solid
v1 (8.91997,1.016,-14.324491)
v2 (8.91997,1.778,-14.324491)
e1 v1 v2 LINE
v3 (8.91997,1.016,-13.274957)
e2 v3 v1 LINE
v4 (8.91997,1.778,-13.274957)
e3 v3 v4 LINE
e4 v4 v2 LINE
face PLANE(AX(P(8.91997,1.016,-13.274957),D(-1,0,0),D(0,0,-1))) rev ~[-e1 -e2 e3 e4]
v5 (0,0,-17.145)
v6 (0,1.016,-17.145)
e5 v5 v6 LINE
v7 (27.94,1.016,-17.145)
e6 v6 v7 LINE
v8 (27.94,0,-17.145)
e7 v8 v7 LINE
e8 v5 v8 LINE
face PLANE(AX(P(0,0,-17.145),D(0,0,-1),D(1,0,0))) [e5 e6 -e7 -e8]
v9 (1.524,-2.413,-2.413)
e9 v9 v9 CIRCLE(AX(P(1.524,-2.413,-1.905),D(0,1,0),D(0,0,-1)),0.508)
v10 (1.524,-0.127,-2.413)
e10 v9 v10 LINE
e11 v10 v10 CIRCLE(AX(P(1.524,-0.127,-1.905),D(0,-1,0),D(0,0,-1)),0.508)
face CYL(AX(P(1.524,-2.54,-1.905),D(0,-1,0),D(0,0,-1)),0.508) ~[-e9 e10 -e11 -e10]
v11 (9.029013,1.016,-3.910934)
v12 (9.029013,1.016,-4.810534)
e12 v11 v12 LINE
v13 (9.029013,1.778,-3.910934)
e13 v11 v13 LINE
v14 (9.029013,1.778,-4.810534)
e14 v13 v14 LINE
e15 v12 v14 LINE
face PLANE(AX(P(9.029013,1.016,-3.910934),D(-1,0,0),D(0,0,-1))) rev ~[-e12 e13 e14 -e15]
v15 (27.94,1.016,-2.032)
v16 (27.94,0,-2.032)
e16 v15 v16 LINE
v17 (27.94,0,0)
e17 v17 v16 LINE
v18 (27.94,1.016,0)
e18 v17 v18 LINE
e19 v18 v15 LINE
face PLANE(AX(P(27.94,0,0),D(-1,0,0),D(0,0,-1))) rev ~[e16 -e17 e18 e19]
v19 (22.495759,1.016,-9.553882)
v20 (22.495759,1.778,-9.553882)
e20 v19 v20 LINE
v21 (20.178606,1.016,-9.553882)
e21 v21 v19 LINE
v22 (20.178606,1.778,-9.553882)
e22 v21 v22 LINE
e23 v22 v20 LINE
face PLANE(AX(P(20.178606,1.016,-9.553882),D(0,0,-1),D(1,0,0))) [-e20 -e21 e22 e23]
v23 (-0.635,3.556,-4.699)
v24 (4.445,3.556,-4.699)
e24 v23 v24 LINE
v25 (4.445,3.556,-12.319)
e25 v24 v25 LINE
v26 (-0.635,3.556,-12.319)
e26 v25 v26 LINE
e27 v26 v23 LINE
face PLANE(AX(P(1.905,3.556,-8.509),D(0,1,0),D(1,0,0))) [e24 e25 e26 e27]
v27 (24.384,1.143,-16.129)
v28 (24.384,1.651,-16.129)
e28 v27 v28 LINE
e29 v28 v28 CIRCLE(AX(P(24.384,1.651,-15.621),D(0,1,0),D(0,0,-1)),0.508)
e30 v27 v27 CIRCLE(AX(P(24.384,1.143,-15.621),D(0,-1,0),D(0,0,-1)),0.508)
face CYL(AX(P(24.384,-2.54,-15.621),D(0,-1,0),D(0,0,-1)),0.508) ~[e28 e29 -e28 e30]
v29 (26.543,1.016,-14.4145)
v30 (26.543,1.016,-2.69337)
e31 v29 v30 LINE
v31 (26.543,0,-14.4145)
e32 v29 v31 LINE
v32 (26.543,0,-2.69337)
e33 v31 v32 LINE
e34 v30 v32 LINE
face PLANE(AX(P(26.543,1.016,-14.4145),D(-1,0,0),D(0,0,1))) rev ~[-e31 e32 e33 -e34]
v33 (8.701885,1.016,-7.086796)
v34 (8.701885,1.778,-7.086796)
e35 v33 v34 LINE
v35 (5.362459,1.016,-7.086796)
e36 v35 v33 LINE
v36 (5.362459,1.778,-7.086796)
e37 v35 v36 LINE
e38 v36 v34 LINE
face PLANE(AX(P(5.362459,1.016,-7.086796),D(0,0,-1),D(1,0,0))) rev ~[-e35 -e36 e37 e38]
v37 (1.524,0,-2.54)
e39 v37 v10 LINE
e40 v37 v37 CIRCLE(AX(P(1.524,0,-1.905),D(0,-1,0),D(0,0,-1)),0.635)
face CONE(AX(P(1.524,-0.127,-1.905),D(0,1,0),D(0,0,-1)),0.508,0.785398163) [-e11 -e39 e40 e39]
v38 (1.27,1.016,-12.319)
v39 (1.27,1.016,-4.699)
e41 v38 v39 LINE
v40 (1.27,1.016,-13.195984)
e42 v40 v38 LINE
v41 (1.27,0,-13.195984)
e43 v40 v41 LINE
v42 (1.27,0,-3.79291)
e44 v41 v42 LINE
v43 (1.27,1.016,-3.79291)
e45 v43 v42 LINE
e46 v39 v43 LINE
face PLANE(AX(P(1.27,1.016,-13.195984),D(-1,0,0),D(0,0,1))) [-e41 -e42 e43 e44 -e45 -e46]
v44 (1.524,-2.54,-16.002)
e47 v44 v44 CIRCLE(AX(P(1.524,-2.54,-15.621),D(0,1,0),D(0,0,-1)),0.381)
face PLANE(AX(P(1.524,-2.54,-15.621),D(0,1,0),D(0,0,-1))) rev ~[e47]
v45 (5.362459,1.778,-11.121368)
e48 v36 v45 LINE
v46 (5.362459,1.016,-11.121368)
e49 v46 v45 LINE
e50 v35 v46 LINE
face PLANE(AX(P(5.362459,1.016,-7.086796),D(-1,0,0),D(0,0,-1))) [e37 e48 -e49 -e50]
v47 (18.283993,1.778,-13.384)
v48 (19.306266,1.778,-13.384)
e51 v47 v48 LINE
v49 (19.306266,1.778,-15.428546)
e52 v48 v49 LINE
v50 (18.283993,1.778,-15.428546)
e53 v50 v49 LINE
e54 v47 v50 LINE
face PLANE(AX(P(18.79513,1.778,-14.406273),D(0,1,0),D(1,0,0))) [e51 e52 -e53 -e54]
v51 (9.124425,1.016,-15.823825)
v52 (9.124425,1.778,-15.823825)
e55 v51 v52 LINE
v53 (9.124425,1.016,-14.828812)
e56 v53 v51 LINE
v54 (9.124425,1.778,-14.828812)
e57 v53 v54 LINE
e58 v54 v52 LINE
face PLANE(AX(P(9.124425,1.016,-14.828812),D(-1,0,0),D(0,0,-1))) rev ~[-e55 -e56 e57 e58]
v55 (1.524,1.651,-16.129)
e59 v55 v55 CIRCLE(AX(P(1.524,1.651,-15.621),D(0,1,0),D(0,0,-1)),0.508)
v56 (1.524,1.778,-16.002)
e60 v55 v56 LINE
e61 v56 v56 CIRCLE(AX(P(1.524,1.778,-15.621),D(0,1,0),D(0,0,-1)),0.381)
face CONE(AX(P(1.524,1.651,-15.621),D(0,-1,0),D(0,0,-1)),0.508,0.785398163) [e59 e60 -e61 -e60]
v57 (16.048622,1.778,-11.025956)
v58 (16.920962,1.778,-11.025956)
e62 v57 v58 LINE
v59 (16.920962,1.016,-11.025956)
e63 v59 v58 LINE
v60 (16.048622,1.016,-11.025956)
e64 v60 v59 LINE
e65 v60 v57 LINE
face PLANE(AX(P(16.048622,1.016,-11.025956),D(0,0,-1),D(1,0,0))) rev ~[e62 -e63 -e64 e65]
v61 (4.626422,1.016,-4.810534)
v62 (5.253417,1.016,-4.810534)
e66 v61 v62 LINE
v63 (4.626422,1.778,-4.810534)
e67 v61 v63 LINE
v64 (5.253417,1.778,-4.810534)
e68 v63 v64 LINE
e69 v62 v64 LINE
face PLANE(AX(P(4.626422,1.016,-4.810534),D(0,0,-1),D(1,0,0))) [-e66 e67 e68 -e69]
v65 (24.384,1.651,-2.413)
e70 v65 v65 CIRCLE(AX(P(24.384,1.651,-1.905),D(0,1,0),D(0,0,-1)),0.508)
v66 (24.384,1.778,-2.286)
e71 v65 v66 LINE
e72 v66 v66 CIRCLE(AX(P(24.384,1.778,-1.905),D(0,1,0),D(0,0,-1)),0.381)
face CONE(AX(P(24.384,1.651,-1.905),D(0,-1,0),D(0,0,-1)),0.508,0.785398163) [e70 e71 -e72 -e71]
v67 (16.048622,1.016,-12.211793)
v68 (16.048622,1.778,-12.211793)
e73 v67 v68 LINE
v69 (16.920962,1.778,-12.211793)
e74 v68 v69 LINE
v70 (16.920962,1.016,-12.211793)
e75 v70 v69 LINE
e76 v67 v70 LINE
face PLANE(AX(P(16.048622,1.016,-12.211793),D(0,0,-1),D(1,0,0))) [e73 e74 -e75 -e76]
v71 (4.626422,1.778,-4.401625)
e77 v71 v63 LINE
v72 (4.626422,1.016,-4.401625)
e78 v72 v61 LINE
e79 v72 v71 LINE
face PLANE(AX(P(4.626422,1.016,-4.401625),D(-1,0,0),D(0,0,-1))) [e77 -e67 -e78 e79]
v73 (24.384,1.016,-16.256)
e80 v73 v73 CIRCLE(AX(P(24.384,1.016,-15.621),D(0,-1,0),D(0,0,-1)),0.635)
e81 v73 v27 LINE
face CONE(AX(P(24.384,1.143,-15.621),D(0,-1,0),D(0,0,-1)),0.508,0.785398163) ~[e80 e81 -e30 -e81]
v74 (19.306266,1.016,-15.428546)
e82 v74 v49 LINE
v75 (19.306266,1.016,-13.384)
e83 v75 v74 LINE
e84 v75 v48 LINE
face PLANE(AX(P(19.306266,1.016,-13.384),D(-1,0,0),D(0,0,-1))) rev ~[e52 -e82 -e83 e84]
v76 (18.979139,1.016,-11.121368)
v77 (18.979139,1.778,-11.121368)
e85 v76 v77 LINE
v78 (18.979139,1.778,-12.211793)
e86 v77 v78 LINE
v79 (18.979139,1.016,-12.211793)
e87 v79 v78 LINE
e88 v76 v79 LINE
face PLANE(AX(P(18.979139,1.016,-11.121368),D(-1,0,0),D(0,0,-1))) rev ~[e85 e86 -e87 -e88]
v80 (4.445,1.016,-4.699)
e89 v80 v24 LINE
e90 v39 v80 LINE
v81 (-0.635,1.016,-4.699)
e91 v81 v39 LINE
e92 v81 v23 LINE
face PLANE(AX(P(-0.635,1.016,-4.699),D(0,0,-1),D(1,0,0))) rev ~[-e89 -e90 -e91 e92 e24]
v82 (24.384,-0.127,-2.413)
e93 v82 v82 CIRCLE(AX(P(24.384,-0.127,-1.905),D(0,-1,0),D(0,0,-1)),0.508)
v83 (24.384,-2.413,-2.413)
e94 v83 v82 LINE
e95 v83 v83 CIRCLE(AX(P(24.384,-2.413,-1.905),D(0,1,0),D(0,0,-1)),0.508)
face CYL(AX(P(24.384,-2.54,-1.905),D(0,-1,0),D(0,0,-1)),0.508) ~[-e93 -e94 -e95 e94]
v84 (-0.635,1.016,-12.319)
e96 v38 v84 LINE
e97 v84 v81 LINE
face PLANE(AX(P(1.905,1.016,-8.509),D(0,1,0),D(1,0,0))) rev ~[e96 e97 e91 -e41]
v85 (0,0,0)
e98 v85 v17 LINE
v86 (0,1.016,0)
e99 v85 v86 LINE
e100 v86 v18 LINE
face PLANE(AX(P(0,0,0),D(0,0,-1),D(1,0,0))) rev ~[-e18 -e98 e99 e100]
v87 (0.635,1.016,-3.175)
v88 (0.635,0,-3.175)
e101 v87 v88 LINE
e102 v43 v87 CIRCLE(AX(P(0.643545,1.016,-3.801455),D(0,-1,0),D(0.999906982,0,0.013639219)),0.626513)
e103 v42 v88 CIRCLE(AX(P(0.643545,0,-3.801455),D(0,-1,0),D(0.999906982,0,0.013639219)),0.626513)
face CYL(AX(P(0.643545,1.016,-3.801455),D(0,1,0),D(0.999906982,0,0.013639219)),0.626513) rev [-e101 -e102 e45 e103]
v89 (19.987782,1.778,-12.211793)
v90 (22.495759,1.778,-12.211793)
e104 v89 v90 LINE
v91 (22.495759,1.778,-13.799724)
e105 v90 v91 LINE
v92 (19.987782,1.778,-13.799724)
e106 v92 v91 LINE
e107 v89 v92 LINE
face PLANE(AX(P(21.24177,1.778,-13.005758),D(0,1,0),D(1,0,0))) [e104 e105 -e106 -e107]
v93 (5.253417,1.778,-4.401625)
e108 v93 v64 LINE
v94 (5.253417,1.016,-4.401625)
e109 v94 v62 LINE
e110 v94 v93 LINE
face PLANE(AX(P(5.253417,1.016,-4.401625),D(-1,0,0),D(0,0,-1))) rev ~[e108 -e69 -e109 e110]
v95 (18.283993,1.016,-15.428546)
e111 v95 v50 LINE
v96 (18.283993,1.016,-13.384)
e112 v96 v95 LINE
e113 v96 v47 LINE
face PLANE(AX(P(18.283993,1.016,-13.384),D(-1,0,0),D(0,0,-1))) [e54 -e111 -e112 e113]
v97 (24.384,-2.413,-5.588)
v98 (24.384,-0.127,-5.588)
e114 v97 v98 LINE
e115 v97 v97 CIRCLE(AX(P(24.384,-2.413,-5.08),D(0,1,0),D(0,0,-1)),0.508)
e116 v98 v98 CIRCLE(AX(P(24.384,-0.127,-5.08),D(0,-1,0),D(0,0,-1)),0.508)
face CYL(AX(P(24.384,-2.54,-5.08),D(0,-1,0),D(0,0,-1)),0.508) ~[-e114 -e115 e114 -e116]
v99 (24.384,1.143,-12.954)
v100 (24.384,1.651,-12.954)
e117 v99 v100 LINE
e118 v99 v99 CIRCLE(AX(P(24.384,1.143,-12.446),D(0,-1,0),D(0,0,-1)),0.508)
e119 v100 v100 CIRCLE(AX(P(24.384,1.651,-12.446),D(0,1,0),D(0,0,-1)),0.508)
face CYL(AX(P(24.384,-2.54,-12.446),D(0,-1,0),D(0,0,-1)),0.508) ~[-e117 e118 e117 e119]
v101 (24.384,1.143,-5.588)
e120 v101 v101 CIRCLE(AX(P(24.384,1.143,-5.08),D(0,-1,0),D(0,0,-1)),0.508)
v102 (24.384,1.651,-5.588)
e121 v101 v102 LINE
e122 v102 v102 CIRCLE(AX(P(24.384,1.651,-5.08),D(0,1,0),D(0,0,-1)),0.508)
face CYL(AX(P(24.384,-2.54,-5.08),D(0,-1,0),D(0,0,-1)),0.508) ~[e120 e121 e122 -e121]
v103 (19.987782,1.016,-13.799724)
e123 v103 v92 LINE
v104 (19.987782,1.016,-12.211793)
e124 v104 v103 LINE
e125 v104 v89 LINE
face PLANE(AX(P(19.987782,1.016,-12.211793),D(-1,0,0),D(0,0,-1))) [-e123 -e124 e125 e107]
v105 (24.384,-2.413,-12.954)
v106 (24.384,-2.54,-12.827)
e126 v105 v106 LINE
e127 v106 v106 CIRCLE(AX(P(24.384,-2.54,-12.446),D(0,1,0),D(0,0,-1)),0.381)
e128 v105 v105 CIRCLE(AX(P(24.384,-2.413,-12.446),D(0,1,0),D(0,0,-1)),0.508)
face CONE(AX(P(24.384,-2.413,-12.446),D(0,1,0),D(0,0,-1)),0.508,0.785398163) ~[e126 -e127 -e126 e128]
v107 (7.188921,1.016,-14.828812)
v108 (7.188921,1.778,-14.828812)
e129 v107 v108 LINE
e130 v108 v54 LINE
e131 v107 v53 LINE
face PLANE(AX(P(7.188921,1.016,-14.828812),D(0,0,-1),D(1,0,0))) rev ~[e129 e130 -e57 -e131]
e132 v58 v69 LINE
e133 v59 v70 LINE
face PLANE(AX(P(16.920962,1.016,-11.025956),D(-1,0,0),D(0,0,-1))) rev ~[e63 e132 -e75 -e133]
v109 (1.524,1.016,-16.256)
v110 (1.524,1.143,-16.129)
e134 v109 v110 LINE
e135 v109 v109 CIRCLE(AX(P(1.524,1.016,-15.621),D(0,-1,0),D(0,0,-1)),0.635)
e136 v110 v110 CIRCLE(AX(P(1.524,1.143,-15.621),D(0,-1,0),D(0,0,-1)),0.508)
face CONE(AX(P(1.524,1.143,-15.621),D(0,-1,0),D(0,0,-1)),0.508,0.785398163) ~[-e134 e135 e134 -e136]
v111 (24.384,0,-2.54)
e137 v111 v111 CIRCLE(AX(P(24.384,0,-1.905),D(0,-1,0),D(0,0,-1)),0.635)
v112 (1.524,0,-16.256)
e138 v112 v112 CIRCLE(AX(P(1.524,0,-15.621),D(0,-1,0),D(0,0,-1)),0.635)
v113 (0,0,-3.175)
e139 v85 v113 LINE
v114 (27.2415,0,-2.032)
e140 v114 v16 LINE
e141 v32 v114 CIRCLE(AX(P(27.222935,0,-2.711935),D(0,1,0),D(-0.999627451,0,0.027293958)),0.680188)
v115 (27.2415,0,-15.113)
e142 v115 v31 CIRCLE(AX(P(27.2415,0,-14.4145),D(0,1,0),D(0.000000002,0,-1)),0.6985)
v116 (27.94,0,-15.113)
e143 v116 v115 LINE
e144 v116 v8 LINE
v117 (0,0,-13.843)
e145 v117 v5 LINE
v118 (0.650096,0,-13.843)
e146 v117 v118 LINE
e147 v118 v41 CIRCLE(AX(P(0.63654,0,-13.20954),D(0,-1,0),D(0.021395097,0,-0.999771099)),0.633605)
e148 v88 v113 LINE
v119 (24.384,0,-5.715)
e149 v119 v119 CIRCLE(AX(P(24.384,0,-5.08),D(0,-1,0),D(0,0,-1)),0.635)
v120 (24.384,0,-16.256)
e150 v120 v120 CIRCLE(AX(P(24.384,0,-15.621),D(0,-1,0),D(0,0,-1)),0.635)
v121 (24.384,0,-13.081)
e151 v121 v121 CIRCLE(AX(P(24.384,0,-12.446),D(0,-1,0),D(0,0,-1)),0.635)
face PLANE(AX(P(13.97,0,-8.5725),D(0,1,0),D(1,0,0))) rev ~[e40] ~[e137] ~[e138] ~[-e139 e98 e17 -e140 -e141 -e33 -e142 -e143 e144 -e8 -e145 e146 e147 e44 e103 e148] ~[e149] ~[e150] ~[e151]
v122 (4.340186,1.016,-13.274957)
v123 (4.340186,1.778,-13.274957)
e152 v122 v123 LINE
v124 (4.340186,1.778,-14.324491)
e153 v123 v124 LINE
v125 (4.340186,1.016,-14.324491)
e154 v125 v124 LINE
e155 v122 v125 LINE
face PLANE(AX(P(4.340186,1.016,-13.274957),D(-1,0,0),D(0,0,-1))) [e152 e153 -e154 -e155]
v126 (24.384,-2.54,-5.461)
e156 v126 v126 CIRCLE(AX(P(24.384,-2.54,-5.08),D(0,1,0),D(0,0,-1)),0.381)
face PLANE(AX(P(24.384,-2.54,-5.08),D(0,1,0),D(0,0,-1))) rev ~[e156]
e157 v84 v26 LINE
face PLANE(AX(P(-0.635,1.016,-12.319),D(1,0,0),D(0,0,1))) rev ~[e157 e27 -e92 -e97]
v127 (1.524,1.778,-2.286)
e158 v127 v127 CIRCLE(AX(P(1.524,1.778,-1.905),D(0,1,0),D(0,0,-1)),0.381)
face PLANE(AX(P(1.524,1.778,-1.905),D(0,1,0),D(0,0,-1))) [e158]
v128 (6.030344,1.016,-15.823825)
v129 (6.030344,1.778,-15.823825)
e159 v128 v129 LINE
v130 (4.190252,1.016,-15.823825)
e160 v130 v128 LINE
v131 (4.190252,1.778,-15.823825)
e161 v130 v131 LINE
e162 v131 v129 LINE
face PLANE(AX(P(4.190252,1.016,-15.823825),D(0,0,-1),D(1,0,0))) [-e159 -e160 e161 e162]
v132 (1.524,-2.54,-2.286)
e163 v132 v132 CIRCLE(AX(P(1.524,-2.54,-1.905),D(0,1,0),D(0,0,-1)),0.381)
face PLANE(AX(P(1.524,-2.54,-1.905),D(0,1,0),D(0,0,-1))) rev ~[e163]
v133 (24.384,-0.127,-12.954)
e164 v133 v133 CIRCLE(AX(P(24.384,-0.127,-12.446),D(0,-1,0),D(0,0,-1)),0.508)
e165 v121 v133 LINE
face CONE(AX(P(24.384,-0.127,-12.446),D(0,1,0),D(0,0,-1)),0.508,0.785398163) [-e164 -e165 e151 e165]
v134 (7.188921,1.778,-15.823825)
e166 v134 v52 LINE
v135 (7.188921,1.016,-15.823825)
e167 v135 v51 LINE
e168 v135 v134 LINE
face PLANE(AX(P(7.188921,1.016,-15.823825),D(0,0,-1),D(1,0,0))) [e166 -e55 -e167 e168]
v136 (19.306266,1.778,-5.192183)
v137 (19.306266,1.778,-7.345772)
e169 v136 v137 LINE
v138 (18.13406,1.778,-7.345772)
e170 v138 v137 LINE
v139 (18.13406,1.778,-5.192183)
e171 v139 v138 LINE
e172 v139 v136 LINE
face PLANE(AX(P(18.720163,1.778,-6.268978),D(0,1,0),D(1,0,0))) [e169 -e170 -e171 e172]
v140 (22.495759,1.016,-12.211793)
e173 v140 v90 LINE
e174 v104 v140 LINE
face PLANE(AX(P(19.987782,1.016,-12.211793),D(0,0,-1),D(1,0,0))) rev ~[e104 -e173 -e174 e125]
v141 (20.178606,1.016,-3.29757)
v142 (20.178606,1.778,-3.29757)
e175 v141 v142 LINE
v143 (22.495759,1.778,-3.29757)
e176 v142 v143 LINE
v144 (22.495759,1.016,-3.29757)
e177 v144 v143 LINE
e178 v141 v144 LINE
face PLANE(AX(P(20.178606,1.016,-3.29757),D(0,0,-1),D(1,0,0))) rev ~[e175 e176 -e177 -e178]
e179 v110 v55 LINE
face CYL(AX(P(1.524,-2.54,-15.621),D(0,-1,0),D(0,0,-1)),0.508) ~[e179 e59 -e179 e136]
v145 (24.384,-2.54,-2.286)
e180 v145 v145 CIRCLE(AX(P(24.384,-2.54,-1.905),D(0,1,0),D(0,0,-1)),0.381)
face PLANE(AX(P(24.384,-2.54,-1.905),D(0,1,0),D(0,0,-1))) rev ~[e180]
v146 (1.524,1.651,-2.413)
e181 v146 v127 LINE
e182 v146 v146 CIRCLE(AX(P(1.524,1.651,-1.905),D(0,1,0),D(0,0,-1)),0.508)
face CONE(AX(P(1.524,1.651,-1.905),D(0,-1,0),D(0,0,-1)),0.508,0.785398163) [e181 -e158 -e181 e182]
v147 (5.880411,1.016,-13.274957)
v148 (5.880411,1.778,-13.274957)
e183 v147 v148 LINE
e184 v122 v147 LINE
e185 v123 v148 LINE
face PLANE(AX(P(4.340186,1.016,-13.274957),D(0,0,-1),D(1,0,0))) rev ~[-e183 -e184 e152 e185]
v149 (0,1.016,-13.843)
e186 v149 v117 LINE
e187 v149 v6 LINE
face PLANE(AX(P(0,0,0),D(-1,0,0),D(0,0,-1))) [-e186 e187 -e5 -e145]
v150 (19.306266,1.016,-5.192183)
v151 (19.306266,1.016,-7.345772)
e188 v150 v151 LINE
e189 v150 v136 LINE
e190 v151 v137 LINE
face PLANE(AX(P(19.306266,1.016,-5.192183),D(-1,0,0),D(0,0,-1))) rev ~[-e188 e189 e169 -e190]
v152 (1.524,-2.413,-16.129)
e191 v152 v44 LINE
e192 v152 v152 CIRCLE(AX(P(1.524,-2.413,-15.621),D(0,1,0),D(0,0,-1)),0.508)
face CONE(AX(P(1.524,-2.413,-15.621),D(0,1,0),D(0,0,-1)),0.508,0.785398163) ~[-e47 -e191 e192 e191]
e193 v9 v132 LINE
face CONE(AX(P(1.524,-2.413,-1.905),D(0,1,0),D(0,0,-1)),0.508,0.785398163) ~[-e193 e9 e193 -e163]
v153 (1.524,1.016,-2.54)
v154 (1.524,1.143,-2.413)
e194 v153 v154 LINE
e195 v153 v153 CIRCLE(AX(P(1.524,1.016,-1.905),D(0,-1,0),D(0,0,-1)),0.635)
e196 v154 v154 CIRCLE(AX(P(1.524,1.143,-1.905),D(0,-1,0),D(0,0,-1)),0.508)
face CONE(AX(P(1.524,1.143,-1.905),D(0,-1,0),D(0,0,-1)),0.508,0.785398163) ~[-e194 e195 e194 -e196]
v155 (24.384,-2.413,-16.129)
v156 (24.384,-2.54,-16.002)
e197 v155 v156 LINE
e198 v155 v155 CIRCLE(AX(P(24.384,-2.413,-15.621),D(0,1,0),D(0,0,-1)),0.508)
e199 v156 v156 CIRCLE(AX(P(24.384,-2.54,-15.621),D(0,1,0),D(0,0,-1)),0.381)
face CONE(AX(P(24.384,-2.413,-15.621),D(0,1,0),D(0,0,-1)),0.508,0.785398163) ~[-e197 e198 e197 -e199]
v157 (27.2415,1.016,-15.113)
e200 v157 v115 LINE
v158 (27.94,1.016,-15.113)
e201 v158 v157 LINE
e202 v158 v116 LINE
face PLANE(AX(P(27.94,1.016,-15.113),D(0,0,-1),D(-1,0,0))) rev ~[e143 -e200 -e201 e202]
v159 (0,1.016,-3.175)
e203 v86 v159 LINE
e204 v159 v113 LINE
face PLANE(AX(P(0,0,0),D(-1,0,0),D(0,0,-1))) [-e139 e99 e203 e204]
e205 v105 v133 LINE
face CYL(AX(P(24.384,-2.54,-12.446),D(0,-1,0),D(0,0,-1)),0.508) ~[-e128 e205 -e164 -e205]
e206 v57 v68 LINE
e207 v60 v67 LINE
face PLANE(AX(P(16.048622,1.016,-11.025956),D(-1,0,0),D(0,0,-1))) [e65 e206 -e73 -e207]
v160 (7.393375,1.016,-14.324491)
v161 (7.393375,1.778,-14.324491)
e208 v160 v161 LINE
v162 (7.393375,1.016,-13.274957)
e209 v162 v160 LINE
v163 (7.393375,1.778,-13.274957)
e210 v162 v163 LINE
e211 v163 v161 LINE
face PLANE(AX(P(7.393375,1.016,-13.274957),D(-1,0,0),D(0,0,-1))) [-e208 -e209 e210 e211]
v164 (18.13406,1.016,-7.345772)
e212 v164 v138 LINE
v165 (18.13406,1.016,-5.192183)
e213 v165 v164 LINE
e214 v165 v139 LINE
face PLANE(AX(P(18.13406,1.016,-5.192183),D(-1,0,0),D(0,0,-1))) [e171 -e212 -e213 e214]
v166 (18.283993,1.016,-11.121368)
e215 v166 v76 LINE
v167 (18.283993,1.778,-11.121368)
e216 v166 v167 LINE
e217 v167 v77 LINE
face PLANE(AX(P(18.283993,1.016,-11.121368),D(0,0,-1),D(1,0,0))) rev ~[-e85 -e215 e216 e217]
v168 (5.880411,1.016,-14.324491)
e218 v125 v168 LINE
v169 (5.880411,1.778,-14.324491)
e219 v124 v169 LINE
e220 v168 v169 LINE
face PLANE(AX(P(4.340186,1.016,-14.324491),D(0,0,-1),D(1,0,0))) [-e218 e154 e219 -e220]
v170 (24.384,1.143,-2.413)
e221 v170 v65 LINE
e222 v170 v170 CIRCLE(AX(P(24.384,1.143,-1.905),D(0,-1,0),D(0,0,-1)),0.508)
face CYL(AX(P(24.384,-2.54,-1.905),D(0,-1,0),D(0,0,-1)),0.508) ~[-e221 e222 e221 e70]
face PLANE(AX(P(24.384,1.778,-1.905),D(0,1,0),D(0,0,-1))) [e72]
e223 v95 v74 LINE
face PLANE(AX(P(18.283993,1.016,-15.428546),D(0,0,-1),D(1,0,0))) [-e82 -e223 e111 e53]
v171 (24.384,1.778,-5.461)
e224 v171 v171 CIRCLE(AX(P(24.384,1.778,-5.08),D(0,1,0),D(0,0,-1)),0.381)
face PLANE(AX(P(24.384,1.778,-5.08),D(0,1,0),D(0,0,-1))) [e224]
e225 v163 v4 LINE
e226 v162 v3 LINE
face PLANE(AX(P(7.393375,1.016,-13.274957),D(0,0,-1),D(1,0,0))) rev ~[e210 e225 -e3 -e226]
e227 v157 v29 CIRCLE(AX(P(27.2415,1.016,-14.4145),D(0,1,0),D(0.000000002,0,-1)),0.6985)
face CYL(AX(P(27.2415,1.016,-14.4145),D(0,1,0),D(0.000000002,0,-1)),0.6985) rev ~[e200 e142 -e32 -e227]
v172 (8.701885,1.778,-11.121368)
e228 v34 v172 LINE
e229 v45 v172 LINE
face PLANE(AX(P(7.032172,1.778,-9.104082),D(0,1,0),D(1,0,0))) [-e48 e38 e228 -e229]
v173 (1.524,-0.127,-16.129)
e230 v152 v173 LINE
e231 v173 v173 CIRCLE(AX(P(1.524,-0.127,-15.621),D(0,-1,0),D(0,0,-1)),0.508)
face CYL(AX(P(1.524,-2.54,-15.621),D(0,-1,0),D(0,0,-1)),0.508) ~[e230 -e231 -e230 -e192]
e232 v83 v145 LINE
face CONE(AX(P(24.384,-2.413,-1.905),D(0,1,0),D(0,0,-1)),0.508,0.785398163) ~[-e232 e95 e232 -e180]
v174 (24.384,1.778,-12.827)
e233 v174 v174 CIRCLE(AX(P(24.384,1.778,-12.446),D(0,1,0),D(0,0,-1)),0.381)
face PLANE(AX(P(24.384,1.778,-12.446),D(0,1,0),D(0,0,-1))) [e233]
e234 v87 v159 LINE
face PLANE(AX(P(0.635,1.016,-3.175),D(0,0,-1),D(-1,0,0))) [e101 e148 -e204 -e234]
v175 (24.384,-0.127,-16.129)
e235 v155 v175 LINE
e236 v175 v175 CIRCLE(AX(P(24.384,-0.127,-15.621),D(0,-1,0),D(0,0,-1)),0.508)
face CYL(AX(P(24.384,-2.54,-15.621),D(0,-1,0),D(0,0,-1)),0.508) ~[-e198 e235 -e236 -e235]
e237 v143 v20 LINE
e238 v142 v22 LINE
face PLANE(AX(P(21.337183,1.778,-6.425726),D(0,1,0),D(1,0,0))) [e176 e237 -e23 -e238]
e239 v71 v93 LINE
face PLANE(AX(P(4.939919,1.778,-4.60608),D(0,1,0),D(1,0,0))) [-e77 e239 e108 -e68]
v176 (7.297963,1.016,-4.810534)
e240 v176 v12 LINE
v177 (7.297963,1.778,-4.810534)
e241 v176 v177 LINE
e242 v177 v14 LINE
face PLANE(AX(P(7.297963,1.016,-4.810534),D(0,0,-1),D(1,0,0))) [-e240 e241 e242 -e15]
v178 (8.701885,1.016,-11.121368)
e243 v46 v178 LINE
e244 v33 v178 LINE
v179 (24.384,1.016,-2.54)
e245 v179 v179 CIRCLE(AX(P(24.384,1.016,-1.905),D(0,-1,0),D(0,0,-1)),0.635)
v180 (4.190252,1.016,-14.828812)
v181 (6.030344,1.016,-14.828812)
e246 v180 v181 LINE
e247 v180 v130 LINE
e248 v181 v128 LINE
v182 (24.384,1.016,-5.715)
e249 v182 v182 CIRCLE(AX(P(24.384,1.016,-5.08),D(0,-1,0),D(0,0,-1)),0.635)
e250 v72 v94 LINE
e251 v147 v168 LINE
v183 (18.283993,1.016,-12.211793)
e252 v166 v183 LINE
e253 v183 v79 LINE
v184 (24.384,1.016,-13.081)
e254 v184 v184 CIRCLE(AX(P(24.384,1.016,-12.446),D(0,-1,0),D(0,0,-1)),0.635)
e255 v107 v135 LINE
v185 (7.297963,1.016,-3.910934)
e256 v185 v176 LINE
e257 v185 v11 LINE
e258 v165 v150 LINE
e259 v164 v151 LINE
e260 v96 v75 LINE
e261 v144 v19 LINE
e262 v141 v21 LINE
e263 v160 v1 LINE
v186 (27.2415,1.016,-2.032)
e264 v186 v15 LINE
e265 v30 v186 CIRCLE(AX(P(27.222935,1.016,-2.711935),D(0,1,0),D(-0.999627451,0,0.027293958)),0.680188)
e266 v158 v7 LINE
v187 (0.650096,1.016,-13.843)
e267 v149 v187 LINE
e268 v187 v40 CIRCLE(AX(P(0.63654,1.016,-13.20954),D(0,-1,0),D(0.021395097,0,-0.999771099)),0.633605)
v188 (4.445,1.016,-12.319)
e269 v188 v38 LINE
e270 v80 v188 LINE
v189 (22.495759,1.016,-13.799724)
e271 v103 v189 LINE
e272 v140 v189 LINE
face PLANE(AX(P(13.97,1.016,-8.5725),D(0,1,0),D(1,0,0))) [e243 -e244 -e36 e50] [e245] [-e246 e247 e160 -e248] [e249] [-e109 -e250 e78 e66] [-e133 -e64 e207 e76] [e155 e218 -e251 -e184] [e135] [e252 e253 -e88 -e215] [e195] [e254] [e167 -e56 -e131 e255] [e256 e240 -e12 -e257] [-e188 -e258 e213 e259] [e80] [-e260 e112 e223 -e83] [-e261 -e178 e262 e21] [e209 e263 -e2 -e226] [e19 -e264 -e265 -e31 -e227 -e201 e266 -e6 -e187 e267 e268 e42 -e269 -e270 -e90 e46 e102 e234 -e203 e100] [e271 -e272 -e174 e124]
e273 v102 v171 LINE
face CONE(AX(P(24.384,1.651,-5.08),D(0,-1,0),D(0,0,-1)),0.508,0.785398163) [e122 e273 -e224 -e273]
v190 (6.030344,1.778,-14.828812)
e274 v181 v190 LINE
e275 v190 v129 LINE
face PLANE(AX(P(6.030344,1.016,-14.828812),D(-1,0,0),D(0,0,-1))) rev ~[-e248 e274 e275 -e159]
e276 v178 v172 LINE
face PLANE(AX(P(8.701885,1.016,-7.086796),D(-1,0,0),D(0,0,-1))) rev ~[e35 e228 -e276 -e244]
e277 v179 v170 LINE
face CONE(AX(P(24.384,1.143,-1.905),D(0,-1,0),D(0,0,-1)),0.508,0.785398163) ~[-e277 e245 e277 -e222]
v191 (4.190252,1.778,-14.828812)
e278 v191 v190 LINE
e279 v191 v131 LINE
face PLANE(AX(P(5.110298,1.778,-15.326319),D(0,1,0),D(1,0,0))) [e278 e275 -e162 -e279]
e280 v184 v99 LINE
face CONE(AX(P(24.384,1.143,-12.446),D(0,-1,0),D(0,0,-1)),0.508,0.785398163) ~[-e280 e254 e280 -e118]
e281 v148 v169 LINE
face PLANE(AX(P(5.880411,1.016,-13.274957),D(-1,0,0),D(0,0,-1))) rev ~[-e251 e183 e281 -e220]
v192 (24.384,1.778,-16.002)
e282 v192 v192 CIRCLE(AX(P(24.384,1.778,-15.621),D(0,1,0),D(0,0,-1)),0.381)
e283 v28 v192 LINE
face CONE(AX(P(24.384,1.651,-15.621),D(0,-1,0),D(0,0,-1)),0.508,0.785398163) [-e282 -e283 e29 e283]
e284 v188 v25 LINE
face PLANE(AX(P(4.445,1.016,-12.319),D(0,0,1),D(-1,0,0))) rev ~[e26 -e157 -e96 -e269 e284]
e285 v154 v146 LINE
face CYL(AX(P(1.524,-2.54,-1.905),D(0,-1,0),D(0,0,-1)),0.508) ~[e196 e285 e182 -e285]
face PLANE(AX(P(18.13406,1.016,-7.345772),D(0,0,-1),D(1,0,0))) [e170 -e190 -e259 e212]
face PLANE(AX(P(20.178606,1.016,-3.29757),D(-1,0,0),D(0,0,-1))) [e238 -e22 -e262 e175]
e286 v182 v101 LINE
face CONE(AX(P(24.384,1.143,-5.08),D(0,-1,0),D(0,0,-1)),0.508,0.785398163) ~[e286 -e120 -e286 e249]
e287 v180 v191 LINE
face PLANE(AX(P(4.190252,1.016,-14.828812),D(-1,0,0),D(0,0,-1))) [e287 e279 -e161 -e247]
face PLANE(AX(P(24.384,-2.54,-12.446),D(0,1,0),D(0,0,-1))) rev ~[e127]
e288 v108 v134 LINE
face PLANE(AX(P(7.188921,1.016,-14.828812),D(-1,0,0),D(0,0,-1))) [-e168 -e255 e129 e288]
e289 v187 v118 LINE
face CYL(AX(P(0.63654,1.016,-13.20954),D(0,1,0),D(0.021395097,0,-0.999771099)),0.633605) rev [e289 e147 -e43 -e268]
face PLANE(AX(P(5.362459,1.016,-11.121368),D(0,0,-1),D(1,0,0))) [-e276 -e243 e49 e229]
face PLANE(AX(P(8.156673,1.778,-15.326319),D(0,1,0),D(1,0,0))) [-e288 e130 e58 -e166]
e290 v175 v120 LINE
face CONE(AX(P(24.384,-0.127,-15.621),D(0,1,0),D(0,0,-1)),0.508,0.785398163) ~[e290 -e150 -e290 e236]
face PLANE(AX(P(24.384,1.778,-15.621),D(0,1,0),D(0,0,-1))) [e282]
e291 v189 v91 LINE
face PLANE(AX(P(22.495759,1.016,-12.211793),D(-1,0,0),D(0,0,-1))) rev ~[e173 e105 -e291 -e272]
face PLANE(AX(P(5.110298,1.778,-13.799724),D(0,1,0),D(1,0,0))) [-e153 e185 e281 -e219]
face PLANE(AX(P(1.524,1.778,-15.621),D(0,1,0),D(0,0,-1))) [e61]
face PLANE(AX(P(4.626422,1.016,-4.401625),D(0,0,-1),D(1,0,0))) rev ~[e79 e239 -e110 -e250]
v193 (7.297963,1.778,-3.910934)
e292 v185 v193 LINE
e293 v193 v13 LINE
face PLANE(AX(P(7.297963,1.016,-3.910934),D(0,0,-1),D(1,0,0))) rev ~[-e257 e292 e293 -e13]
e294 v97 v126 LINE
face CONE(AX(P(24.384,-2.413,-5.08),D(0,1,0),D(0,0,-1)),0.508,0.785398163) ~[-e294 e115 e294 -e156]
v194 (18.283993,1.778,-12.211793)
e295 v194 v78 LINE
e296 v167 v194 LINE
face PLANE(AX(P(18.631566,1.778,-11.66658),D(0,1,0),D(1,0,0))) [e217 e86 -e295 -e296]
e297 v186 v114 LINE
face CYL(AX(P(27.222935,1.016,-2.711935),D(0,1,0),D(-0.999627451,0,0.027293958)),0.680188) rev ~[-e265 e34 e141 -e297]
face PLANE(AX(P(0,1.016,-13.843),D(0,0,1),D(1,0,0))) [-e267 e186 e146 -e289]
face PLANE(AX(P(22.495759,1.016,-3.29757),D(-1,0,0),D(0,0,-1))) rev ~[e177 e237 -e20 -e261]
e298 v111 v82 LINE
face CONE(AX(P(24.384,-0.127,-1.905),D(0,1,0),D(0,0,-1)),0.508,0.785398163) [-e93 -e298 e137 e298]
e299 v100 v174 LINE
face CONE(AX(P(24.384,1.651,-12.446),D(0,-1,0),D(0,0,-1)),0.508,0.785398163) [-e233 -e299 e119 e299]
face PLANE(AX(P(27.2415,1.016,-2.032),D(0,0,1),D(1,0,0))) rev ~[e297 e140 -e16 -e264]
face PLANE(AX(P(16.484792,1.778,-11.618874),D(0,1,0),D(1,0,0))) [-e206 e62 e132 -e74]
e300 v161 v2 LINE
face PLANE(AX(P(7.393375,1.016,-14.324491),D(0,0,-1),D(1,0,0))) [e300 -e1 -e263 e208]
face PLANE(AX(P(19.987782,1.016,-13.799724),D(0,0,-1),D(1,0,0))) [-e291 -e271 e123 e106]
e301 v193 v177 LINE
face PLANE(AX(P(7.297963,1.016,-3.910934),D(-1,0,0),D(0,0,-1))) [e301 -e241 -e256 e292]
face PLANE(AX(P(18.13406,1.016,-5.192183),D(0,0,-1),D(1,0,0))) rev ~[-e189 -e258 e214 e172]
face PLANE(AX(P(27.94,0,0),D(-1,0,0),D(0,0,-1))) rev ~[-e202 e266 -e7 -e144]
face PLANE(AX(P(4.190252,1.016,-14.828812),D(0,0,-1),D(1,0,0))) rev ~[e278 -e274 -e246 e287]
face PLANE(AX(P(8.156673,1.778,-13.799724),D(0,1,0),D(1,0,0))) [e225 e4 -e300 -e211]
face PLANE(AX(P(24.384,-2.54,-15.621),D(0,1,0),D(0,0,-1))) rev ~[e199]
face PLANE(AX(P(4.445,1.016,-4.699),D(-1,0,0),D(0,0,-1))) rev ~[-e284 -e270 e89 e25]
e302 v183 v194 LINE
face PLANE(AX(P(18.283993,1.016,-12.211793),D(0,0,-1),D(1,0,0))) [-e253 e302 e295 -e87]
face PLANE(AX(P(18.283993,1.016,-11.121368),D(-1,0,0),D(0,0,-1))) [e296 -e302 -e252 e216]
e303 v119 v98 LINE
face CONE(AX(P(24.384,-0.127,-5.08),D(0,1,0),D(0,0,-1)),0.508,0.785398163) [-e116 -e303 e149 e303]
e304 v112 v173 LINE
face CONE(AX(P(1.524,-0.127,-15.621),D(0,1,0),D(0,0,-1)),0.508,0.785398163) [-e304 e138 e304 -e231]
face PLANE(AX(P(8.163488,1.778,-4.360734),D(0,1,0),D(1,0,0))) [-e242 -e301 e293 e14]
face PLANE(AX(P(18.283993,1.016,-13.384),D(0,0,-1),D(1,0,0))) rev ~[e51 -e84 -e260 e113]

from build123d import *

# Parameters (mm, degrees)
SKETCH1_W                = 27.94
SKETCH1_H                = 17.145
BOSS_EXTRUDE1_DEPTH      = 1.016
CUT_EXTRUDE1_DEPTH       = 1.016
BOSS_EXTRUDE2_DEPTH      = 0.762
BOSS_EXTRUDE2_DEPTH_BACK = 3.556
SKETCH3_R                = 0.508
CHAMFER1_SIZE            = 0.127
SKETCH4_W                = 1.840091878
SKETCH4_H                = 0.995012645
SKETCH4_W_2              = 1.93550405
SKETCH4_W_3              = 1.540225054
SKETCH4_H_2              = 1.049533886
SKETCH4_W_4              = 1.526594744
SKETCH4_W_5              = 2.507977079
SKETCH4_H_3              = 1.58793114
SKETCH4_W_6              = 1.022273265
SKETCH4_H_4              = 2.044546532
SKETCH4_W_7              = 0.69514582
SKETCH4_H_5              = 1.090424817
SKETCH4_W_8              = 2.317152736
SKETCH4_H_6              = 6.256312386
SKETCH4_W_9              = 1.172206678
SKETCH4_H_7              = 2.153589013
SKETCH4_W_10             = 3.339426002
SKETCH4_H_8              = 4.034571822
SKETCH4_W_11             = 0.626994269
SKETCH4_H_9              = 0.408909306
SKETCH4_W_12             = 1.731049397
SKETCH4_H_10             = 0.899600474
SKETCH4_W_13             = 0.872339854
SKETCH4_H_11             = 1.185836988
BOSS_EXTRUDE4_DEPTH      = 0.762
BOSS_EXTRUDE5_DEPTH      = 2.54


with BuildPart() as part:
    # Sketch1 → Boss-Extrude1 (new body)
    with BuildSketch(Plane(origin=(0, 0, 0), x_dir=(1, 0, 0), z_dir=(0, 1, 0))):
        with Locations((13.97, 8.5725)):
            Rectangle(SKETCH1_W, SKETCH1_H)
    extrude(amount=BOSS_EXTRUDE1_DEPTH)

    # Sketch2 → Cut-Extrude1 (cut)
    with BuildSketch(Plane(origin=(0, 1.016, 0), x_dir=(1, 0, 0), z_dir=(0, 1, 0))):
        with BuildLine():
            Line((0.635, 3.175), (0, 3.175))
            Line((0, 3.175), (0, 3.302))
            Line((0, 3.302), (0, 13.843))
            Line((0, 13.843), (0.650095852, 13.843))
            ThreePointArc((0.650095852, 13.843), (1.094049376, 13.647878234), (1.27, 13.195983763))
            Line((1.27, 13.195983763), (1.27, 3.792909702))
            ThreePointArc((1.27, 3.792909702), (1.080473289, 3.352442045), (0.635, 3.175))
        make_face()
        with BuildLine():
            Line((27.2415, 2.032), (27.94, 2.032))
            Line((27.94, 2.032), (27.94, 15.113))
            Line((27.94, 15.113), (27.2415, 15.113))
            ThreePointArc((27.2415, 15.113), (26.747585913, 14.908414087), (26.543, 14.4145))
            Line((26.543, 14.4145), (26.543, 2.693369934))
            ThreePointArc((26.543, 2.693369934), (26.755275802, 2.21802088), (27.2415, 2.032))
        make_face()
    extrude(amount=-CUT_EXTRUDE1_DEPTH, mode=Mode.SUBTRACT)

    # Sketch3 → Boss-Extrude2 (add, two sides: drawn at the far end of the back side and taken through both)
    with BuildSketch(Plane(origin=(0, 1.016, 0), x_dir=(1, 0, 0), z_dir=(0, 1, 0)).offset(-BOSS_EXTRUDE2_DEPTH_BACK)):
        with Locations(Location((24.384, 15.621, 0), (0, 0, 90))):
            Circle(SKETCH3_R)
        with Locations(Location((24.384, 12.446, 0), (0, 0, 90))):
            Circle(SKETCH3_R)
        with Locations(Location((24.384, 1.905, 0), (0, 0, 90))):
            Circle(SKETCH3_R)
        with Locations(Location((24.384, 5.08, 0), (0, 0, 90))):
            Circle(SKETCH3_R)
        with Locations(Location((1.524, 15.621, 0), (0, 0, 90))):
            Circle(SKETCH3_R)
        with Locations(Location((1.524, 1.905, 0), (0, 0, 90))):
            Circle(SKETCH3_R)
    extrude(amount=BOSS_EXTRUDE2_DEPTH + BOSS_EXTRUDE2_DEPTH_BACK)

    # Chamfer1
    chamfer1_edges = [part.edges().sort_by_distance(p)[0] for p in [
        (1.524, 1.016, -15.113),
        (1.524, 0, -15.113),
        (1.524, -2.54, -15.113),
        (1.524, 1.778, -15.113),
        (1.524, 1.016, -1.397),
        (1.524, 0, -1.397),
        (1.524, -2.54, -1.397),
        (1.524, 1.778, -1.397),
        (24.384, 1.016, -4.572),
        (24.384, 0, -4.572),
        (24.384, -2.54, -4.572),
        (24.384, 1.778, -4.572),
        (24.384, 1.016, -11.938),
        (24.384, 0, -11.938),
        (24.384, -2.54, -11.938),
        (24.384, 1.778, -11.938),
        (24.384, 1.016, -1.397),
        (24.384, 0, -1.397),
        (24.384, -2.54, -1.397),
        (24.384, 1.778, -1.397),
        (24.384, 1.016, -15.113),
        (24.384, 0, -15.113),
        (24.384, -2.54, -15.113),
        (24.384, 1.778, -15.113),
    ]]
    chamfer(chamfer1_edges, length=CHAMFER1_SIZE)

    # Sketch4 → Boss-Extrude4 (add)
    with BuildSketch(Plane(origin=(0, 1.016, 0), x_dir=(1, 0, 0), z_dir=(0, 1, 0))):
        with Locations((5.110298363, 15.32631871)):
            Rectangle(SKETCH4_W, SKETCH4_H)
        with Locations((8.156672695, 15.32631871)):
            Rectangle(SKETCH4_W_2, SKETCH4_H)
        with Locations((5.110298363, 13.799723966)):
            Rectangle(SKETCH4_W_3, SKETCH4_H_2)
        with Locations((8.156672695, 13.799723966)):
            Rectangle(SKETCH4_W_4, SKETCH4_H_2)
        with Locations((21.241770498, 13.005758396)):
            Rectangle(SKETCH4_W_5, SKETCH4_H_3)
        with Locations((18.795129815, 14.40627277)):
            Rectangle(SKETCH4_W_6, SKETCH4_H_4)
        with Locations((18.631566092, 11.666580418)):
            Rectangle(SKETCH4_W_7, SKETCH4_H_5)
        with Locations((21.337182669, 6.425726142)):
            Rectangle(SKETCH4_W_8, SKETCH4_H_6)
        with Locations((18.720163108, 6.268977575)):
            Rectangle(SKETCH4_W_9, SKETCH4_H_7)
        with Locations((7.032172103, 9.104082098)):
            Rectangle(SKETCH4_W_10, SKETCH4_H_8)
        with Locations((4.939919486, 4.606079729)):
            Rectangle(SKETCH4_W_11, SKETCH4_H_9)
        with Locations((8.163487851, 4.360734145)):
            Rectangle(SKETCH4_W_12, SKETCH4_H_10)
        with Locations((16.484792234, 11.618874332)):
            Rectangle(SKETCH4_W_13, SKETCH4_H_11)
    extrude(amount=BOSS_EXTRUDE4_DEPTH)

    # Sketch5 → Boss-Extrude5 (add)
    with BuildSketch(Plane(origin=(0, 1.016, 0), x_dir=(1, 0, 0), z_dir=(0, 1, 0))):
        Polygon((4.445, 12.319), (0, 12.319), (-0.635, 12.319), (-0.635, 4.699), (4.445, 4.699), align=None)
    extrude(amount=BOSS_EXTRUDE5_DEPTH)


solid = part.part
